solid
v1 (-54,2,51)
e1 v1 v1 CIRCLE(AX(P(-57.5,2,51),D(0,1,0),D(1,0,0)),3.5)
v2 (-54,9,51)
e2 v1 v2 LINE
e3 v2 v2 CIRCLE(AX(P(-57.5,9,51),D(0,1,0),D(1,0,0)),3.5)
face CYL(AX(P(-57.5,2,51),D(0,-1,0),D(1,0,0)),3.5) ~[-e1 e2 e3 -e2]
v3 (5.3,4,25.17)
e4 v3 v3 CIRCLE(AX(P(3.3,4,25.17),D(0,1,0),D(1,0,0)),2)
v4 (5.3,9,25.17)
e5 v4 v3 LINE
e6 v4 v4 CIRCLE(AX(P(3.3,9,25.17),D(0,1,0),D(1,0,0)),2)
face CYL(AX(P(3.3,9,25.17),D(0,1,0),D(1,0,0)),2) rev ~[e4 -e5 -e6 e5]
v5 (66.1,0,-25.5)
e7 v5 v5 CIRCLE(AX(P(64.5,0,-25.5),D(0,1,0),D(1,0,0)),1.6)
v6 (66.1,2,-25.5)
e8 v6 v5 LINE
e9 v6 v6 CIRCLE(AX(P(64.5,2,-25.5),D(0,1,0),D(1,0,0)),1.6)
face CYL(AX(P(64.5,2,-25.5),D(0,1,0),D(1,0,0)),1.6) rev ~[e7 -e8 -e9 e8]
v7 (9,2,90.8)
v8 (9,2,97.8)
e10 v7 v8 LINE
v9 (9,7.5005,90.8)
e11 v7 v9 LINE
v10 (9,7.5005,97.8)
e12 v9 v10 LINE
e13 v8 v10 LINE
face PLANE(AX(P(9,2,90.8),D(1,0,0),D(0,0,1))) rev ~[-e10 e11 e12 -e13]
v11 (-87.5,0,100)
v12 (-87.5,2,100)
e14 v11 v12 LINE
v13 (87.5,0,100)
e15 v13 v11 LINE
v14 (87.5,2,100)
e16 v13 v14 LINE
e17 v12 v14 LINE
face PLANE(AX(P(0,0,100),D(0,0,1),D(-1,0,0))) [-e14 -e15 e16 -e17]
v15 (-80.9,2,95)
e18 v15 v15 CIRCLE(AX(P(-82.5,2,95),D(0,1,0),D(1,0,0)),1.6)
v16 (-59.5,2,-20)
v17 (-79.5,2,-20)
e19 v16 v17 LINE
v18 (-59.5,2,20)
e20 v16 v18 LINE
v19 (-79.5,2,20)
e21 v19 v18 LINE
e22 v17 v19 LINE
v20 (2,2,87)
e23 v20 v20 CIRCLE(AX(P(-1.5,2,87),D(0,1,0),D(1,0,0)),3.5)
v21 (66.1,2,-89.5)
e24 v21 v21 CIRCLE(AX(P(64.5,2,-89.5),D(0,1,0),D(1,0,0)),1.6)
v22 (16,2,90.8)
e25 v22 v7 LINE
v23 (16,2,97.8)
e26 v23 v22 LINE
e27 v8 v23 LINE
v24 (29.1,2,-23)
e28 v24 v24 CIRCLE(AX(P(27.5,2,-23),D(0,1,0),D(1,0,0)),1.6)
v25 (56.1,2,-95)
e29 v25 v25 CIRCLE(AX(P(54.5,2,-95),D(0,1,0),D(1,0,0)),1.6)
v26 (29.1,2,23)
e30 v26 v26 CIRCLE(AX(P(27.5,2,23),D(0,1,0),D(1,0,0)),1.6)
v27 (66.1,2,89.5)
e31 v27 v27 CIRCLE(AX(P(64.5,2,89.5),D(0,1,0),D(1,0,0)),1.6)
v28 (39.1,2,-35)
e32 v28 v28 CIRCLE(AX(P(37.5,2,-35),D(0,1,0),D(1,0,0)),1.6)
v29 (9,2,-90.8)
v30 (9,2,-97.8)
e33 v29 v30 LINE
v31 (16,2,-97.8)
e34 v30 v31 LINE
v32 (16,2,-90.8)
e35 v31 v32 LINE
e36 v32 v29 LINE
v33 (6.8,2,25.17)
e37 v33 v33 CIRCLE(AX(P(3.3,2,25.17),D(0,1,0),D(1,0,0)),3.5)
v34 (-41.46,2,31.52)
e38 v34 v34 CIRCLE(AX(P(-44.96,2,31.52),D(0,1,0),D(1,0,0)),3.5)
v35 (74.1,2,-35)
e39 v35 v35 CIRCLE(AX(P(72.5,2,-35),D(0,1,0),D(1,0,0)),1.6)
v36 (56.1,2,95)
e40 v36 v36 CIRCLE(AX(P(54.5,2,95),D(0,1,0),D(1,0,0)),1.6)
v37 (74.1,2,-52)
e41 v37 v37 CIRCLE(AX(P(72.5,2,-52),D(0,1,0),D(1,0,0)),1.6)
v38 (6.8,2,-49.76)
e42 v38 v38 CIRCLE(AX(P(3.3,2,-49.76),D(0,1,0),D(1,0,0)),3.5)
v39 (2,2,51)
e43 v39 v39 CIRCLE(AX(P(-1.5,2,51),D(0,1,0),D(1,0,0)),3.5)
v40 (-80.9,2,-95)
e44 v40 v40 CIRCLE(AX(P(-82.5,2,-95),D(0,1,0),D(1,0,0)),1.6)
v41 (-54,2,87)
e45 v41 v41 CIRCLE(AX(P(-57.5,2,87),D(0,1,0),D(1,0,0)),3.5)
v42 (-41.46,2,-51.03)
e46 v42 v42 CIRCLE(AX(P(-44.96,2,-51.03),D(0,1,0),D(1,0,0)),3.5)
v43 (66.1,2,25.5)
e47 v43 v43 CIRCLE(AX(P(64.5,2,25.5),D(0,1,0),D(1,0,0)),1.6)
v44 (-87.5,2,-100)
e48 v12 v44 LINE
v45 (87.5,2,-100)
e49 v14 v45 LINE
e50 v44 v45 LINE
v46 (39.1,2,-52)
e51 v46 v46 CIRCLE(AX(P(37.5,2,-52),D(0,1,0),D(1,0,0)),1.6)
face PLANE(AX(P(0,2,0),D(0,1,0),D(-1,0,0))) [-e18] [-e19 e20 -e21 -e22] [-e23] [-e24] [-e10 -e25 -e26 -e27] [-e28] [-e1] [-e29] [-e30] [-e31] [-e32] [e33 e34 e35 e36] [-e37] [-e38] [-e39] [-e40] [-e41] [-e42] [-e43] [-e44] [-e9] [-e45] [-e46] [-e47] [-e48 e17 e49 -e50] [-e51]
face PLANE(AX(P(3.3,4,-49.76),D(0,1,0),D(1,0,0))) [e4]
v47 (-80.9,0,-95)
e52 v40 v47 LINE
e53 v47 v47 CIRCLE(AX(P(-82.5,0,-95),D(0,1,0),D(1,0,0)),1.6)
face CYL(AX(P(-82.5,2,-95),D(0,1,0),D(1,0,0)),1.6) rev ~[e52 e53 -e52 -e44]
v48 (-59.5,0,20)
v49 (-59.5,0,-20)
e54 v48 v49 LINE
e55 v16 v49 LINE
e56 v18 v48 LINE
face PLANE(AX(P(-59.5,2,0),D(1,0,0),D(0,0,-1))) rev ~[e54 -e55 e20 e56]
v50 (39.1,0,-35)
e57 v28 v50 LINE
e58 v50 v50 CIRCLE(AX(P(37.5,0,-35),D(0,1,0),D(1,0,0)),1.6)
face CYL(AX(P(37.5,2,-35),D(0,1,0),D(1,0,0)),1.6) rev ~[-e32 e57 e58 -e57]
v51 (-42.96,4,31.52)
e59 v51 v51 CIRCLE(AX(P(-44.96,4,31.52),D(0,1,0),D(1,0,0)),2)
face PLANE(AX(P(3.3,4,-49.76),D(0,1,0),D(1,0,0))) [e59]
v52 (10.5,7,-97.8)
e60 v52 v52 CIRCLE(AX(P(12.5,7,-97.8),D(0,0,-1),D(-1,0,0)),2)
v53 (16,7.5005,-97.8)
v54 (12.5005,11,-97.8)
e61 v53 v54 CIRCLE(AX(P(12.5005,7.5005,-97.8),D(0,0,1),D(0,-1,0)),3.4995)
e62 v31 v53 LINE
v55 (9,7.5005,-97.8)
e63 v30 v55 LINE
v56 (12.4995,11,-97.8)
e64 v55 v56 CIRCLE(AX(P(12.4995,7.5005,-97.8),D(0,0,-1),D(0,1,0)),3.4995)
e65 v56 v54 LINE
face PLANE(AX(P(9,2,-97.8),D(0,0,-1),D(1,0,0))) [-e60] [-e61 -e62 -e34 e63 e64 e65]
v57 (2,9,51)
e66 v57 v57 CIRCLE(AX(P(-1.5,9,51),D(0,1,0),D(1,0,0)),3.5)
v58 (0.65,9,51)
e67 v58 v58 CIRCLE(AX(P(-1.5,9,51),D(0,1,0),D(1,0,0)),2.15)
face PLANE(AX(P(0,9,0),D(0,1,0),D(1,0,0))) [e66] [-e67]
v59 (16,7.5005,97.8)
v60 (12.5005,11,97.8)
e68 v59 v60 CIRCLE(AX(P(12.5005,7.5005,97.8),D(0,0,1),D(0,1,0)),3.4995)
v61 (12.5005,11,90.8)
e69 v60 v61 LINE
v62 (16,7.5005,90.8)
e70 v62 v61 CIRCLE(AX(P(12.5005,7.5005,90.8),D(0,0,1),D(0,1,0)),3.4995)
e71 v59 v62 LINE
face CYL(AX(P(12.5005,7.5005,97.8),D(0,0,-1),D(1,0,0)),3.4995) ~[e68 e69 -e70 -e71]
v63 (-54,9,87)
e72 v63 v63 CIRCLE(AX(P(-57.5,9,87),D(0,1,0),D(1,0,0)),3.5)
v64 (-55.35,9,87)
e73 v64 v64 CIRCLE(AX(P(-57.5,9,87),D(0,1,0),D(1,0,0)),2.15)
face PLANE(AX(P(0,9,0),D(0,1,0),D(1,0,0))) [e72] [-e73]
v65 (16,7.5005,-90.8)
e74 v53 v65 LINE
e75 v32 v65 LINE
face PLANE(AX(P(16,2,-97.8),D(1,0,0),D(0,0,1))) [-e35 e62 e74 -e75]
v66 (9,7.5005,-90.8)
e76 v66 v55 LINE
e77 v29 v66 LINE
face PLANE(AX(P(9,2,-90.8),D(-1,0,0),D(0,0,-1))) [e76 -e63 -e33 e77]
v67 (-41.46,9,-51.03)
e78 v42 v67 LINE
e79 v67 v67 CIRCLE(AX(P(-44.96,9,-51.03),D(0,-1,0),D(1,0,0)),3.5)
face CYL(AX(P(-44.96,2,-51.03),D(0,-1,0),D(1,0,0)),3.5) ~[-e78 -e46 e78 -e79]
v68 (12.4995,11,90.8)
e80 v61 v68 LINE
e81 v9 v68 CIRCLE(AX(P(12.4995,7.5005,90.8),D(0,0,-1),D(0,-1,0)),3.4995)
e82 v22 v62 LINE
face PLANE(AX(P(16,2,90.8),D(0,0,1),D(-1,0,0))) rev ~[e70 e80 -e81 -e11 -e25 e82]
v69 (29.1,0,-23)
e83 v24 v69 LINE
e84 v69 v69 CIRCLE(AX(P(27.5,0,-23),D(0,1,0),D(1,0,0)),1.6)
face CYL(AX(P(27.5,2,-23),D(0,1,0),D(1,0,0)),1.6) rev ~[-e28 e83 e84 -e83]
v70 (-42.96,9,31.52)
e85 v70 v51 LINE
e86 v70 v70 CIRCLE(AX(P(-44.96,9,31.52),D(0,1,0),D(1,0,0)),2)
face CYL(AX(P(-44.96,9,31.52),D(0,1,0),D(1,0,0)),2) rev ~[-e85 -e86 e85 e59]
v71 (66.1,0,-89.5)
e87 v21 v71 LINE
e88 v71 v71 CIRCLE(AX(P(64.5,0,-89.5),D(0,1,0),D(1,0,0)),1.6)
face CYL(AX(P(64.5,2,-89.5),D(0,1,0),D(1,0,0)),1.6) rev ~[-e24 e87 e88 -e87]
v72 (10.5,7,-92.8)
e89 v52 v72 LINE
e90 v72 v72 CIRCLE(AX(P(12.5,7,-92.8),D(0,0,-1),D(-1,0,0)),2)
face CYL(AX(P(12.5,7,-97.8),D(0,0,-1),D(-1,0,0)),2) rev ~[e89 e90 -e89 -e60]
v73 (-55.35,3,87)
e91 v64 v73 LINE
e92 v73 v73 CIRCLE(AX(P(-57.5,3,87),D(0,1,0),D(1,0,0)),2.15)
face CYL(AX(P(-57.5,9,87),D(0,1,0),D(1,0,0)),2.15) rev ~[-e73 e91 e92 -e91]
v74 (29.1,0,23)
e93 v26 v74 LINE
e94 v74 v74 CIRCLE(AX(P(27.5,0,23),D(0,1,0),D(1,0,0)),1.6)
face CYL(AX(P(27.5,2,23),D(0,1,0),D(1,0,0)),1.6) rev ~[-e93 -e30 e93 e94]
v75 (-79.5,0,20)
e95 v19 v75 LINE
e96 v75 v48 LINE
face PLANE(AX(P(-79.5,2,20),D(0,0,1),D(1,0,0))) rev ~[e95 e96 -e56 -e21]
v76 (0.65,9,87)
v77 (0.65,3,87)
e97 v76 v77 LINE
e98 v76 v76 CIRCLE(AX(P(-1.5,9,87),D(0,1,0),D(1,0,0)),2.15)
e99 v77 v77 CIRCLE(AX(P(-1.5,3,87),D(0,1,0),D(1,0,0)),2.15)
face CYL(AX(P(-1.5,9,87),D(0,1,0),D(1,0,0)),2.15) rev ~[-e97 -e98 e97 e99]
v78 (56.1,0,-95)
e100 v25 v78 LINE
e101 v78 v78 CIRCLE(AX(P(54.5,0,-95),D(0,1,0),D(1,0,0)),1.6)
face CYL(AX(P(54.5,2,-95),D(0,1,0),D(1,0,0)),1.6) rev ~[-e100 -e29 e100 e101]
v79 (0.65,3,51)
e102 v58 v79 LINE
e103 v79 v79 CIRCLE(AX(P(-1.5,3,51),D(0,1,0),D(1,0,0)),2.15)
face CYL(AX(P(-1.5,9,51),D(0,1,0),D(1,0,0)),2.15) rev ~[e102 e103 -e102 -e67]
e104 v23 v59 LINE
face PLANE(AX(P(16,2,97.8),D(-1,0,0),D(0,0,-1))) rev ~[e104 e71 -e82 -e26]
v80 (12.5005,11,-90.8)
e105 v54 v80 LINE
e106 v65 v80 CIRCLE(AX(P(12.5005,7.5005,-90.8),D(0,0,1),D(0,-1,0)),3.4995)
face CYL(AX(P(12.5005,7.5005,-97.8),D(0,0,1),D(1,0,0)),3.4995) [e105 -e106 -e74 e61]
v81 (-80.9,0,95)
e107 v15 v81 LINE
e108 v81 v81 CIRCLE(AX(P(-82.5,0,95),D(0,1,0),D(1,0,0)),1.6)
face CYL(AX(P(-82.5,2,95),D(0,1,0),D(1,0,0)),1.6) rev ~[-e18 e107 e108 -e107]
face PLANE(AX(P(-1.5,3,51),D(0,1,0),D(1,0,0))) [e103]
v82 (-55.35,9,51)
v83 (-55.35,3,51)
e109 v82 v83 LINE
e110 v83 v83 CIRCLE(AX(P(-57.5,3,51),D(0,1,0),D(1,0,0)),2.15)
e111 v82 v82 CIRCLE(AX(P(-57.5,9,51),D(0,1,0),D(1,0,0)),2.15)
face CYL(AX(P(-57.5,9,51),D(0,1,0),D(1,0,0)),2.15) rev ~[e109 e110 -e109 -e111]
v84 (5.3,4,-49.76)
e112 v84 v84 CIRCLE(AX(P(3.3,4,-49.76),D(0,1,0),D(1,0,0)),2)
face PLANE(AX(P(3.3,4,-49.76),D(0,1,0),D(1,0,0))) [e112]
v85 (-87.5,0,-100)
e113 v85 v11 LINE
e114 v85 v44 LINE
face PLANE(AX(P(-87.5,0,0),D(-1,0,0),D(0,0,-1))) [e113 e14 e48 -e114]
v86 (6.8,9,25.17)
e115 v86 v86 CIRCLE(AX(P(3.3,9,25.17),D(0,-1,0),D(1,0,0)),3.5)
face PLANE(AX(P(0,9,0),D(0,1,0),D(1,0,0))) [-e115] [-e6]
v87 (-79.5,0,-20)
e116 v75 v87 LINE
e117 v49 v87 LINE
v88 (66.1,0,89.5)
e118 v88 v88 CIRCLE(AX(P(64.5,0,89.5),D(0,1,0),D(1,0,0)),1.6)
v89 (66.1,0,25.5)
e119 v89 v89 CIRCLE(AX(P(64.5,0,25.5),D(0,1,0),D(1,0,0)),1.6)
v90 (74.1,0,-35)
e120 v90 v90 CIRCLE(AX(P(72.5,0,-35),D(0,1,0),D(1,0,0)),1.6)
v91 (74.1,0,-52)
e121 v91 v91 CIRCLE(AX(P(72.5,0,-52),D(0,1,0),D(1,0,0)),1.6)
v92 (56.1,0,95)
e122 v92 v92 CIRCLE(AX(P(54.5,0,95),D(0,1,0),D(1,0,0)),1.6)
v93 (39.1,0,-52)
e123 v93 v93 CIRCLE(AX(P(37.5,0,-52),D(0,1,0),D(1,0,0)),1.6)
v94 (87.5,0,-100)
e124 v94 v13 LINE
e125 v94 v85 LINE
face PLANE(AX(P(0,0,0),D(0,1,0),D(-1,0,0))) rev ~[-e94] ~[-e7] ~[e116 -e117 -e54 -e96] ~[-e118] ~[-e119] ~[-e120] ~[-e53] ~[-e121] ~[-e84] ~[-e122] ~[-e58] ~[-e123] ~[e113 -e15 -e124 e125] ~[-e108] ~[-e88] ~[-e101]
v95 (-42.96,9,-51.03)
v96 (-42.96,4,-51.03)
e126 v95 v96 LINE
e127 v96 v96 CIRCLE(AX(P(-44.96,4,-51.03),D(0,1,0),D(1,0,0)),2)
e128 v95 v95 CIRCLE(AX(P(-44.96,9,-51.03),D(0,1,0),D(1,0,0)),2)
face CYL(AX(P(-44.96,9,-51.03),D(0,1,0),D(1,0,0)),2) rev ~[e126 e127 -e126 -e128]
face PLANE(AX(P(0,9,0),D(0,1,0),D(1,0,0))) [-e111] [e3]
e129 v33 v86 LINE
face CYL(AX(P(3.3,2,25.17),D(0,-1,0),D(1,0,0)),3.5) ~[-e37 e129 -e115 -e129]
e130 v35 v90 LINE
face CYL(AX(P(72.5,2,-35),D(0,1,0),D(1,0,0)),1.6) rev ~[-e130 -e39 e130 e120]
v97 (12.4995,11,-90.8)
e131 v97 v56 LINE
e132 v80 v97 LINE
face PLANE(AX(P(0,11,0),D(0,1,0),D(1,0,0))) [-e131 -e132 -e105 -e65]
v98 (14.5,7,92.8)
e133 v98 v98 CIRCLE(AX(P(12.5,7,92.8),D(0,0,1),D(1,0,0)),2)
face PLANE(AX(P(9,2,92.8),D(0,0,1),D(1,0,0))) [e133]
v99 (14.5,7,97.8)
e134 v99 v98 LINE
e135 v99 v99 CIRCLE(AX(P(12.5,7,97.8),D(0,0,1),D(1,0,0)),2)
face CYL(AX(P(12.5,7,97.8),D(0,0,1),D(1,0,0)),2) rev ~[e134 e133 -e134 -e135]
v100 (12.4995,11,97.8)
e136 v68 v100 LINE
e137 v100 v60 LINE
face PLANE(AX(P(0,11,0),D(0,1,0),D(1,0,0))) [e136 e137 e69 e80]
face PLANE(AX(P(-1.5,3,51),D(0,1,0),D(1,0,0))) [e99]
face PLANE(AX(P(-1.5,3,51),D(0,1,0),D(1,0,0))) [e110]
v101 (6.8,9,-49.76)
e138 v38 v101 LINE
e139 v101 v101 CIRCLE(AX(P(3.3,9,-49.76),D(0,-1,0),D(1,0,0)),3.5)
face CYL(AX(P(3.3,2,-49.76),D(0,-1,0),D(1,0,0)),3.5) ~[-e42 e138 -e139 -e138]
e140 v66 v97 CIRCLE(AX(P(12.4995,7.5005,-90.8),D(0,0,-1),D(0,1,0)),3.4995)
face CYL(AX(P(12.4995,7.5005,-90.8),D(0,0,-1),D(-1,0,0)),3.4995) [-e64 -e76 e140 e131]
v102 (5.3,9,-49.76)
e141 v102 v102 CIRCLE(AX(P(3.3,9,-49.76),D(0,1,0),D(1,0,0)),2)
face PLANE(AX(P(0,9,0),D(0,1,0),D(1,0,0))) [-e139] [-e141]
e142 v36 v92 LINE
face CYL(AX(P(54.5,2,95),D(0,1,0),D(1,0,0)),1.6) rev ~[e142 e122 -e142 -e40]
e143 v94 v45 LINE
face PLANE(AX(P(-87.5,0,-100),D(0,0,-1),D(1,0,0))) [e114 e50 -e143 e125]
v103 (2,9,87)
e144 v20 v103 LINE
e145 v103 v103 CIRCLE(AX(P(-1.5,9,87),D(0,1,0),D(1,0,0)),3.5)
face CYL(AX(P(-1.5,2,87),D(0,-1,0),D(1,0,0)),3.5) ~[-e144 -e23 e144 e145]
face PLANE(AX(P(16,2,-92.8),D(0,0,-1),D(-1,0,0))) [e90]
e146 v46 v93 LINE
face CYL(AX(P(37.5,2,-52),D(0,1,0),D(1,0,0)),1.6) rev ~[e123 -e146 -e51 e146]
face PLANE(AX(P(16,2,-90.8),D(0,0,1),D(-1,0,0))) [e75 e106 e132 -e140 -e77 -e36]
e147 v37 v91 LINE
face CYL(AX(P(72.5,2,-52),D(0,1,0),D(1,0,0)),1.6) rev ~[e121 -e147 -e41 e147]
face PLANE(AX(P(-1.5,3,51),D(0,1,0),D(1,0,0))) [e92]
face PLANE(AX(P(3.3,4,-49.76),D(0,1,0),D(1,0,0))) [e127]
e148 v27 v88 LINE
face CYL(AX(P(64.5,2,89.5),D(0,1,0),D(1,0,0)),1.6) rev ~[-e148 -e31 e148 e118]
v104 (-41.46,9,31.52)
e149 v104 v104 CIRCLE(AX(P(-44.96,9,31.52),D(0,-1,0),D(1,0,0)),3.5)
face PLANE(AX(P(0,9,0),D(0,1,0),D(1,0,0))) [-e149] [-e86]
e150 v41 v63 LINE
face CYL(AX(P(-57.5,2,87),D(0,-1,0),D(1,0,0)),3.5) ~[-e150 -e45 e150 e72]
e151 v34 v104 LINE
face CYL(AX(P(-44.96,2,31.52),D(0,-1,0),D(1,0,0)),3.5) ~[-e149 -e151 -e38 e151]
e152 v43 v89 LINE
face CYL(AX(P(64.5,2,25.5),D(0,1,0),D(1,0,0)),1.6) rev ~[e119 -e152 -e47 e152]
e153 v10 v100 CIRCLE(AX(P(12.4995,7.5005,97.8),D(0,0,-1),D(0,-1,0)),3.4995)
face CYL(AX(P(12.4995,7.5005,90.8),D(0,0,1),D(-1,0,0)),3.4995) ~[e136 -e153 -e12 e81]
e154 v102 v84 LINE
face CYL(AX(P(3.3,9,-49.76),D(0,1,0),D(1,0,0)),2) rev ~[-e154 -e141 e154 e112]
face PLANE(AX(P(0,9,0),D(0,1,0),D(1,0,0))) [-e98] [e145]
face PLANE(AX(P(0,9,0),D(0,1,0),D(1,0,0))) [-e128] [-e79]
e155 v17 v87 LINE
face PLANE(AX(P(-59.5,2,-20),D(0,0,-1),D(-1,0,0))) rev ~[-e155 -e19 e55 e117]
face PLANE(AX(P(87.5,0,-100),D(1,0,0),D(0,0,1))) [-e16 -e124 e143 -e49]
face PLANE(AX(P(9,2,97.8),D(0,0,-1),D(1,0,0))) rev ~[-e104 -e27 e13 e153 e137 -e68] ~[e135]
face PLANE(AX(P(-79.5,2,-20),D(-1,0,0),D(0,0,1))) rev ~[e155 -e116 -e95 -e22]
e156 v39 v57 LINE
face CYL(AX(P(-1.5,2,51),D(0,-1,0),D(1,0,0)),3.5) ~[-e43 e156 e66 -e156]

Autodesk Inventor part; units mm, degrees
ref_plane "YZ Plane" through (0, 0, 0) normal (1, 0, 0) x (0, 1, 0)
ref_plane "XZ Plane" through (0, 0, 0) normal (0, 1, 0) x (-1, 0, 0)
ref_plane "XY Plane" through (0, 0, 0) normal (0, 0, 1) x (1, 0, 0)
sketch "Skizze1" plane through (0, 0, 0) normal (0, 1, 0) x (-1, 0, 0)
  line L0 (87.5, -100) -> (-87.5, -100)
  line L1 (-87.5, -100) -> (-87.5, 100)
  line L2 (-87.5, 100) -> (87.5, 100)
  line L3 (87.5, 100) -> (87.5, -100)
  line L4 (0, -140) -> (0, 140) projected
  line L5 (122.5, 0) -> (-122.5, 0) projected
  point P0 (0, 0)
  dimension "d0" = 175
  dimension "d1" = 200
extrude "Extrusion1" add sketch "Skizze1" along normal blind 2
sketch "Skizze2" plane through (0, 2, 0) normal (0, 1, 0) x (1, 0, 0)
  circle A0 centre (54.5, 95) radius 1.6
  circle A1 centre (-82.5, 95) radius 1.6
  line L0 (0, 140) -> (0, -140) projected
  line L1 (122.5, 0) -> (-122.5, 0) projected
  line L2 (87.5, 100) -> (-87.5, 100) projected
  circle A2 centre (54.5, -95) radius 1.6
  circle A3 centre (-82.5, -95) radius 1.6
  line L3 (-87.5, 100) -> (-87.5, -100) projected
  line L4 (87.5, -100) -> (87.5, 100) projected
  point P0 (0, 0)
  dimension "d4" = 3.2
  dimension "d5" = 3.2
  dimension "d7" = 5
  dimension "d9" = 5
  dimension "d55" = 5
  dimension "d56" = 33
extrude "Extrusion2" cut sketch "Skizze2" against normal up to surface (2 mm away) contours A0 | A1 | A2 | A3
sketch "Skizze3" plane through (0, 2, 0) normal (0, 1, 0) x (1, 0, 0)
  line L0 (0, 140) -> (0, -140) projected
  line L1 (122.5, 0) -> (-122.5, 0) projected
  line L2 (-87.5, -100) -> (87.5, -100) projected
  line L3 (-87.5, 100) -> (-87.5, -100) projected
  circle A0 centre (64.5, -89.5) radius 1.6
  line L4 (87.5, -100) -> (87.5, 100) projected
  circle A1 centre (64.5, -25.5) radius 1.6
  circle A2 centre (64.5, 25.5) radius 1.6
  line L5 (87.5, 100) -> (-87.5, 100) projected
  circle A3 centre (64.5, 89.5) radius 1.6
  circle A4 centre (27.5, -23) radius 1.6
  circle A5 centre (27.5, 23) radius 1.6
  point P0 (0, 0)
  dimension "d35" = 3.2
  dimension "d36" = 10.5
  dimension "d37" = 23
  dimension "d38" = 3.2
  dimension "d39" = 74.5
  dimension "d40" = 23
  dimension "d41" = 3.2
  dimension "d42" = 23
  dimension "d43" = 74.5
  dimension "d44" = 3.2
  dimension "d45" = 23
  dimension "d46" = 10.5
  dimension "d47" = 3.2
  dimension "d48" = 60
  dimension "d49" = 77
  dimension "d50" = 3.2
  dimension "d51" = 60
  dimension "d52" = 77
extrude "Extrusion3" cut sketch "Skizze3" against normal up to surface (2 mm away) contours A0 | A1 | A2 | A3 | A4 | A5
sketch "Skizze4" plane through (0, 2, 0) normal (0, 1, 0) x (1, 0, 0)
  line L0 (-47.5, -36.6) -> (5.84, -36.6)
  line L1 (5.84, -36.6) -> (5.84, 65)
  line L2 (5.84, 65) -> (-47.5, 65)
  line L3 (-47.5, 65) -> (-47.5, -36.6)
  line L4 (122.5, 0) -> (-122.5, 0) projected
  line L5 (-87.5, 100) -> (-87.5, -100) projected
  circle A0 centre (3.3, 49.76) radius 3.5
  circle A1 centre (3.3, -25.17) radius 3.5
  circle A2 centre (-44.96, -31.52) radius 3.5
  circle A3 centre (-44.96, 51.03) radius 3.5
  line L6 (87.5, 100) -> (-87.5, 100) projected
  point P0 (0, 0)
  point P1 (-15.83, 0)
  dimension "d57" = 53.34
  dimension "d58" = 101.6
  dimension "d59" = 40
  dimension "d60" = 7
  dimension "d61" = 86.36
  dimension "d62" = 50.8
  dimension "d63" = 7
  dimension "d64" = 90.17
  dimension "d65" = 50.8
  dimension "d66" = 7
  dimension "d67" = 96.52
  dimension "d68" = 50.8
  dimension "d69" = 7
  dimension "d70" = 87.63
  dimension "d71" = 50.8
  dimension "d140" = 35
extrude "Extrusion4" add sketch "Skizze4" along normal blind 7 contours A2 L3 | L3 A2 | A1 L1 | L1 A1 | A3 L3 | L3 A3 | A0 L1 | L1 A0
sketch "Skizze5" plane through (3.3, 9, -49.76) normal (0, 1, 0) x (1, 0, 0)
  circle A0 centre (0, 0) radius 3.5 projected
  circle A1 centre (-48.26, 1.27) radius 3.5 projected
  circle A2 centre (-48.26, -81.28) radius 3.5 projected
  circle A3 centre (0, -74.93) radius 3.5 projected
  circle A4 centre (0, 0) radius 2
  circle A5 centre (0, -74.93) radius 2
  circle A6 centre (-48.26, 1.27) radius 2
  circle A7 centre (-48.26, -81.28) radius 2
  point P0 (-3.3, -49.76)
  dimension "d74" = 4
  dimension "d75" = 4
  dimension "d76" = 4
  dimension "d77" = 4
extrude "Extrusion5" cut sketch "Skizze5" against normal blind 5 contours A4 | A5 | A6 | A7
sketch "Skizze6" plane through (0, 2, 0) normal (0, 1, 0) x (1, 0, 0)
  circle A0 centre (72.5, 35) radius 1.6
  circle A1 centre (72.5, 52) radius 1.6
  line L0 (87.5, -100) -> (87.5, 100) projected
  line L1 (-122.5, 0) -> (122.5, 0) projected
  circle A2 centre (37.5, 35) radius 1.6
  circle A3 centre (37.5, 52) radius 1.6
  point P0 (0, 0)
  dimension "d80" = 3.2
  dimension "d81" = 3.2
  dimension "d82" = 15
  dimension "d83" = 15
  dimension "d84" = 35
  dimension "d85" = 17
  dimension "d88" = 3.2
  dimension "d89" = 3.2
  dimension "d90" = 50
  dimension "d91" = 50
  dimension "d92" = 35
  dimension "d94" = 17
extrude "Extrusion6" cut sketch "Skizze6" against normal up to surface (2 mm away)
sketch "Skizze7" plane through (0, 2, 0) normal (0, 1, 0) x (1, 0, 0)
  line L0 (16, -90.8) -> (9, -90.8)
  line L1 (9, -90.8) -> (9, -97.8)
  line L2 (9, -97.8) -> (16, -97.8)
  line L3 (16, -97.8) -> (16, -90.8)
  line L4 (-87.5, 100) -> (-87.5, -100) projected
  line L5 (-87.5, -100) -> (87.5, -100) projected
  line L6 (122.5, 0) -> (-122.5, 0) projected
  line L7 (16, 90.8) -> (9, 90.8)
  line L8 (9, 90.8) -> (9, 97.8)
  line L9 (9, 97.8) -> (16, 97.8)
  line L10 (16, 97.8) -> (16, 90.8)
  point P0 (0, 0)
  dimension "d95" = 103.5
  dimension "d96" = 7
  dimension "d97" = 7
  dimension "d98" = 2.2
extrude "Extrusion7" add sketch "Skizze7" along normal blind 9
sketch "Skizze8" plane through (9, 2, 97.8) normal (0, 0, 1) x (1, 0, 0)
  circle A0 centre (3.5, 5) radius 2
  line L0 (7, 0) -> (0, 0) projected
  line L1 (7, 0) -> (7, 9) projected
  point P0 (-9, -2)
  dimension "d101" = 4
  dimension "d102" = 5
  dimension "d103" = 3.5
extrude "Extrusion8" cut sketch "Skizze8" against normal blind 5
sketch "Skizze9" plane through (16, 2, -97.8) normal (0, 0, -1) x (-1, 0, 0)
  circle A0 centre (3.5, 5) radius 2
  line L0 (7, 0) -> (7, 9) projected
  line L1 (7, 0) -> (0, 0) projected
  point P0 (16, -2)
  dimension "d107" = 4
  dimension "d108" = 3.5
  dimension "d109" = 5
extrude "Extrusion9" cut sketch "Skizze9" against normal blind 5
fillet "Rundung1" radius 3.5 4 edges at (16, 11, -94.3) (9, 11, -94.3) (9, 11, 94.3) (16, 11, 94.3)
sketch "Skizze10" plane through (0, 2, 0) normal (0, 1, 0) x (1, 0, 0)
  line L0 (-59.5, 20) -> (-79.5, 20)
  line L1 (-79.5, 20) -> (-79.5, -20)
  line L2 (-79.5, -20) -> (-59.5, -20)
  line L3 (-59.5, -20) -> (-59.5, 20)
  line L4 (122.5, 0) -> (-122.5, 0) projected
  line L5 (-87.5, 100) -> (-87.5, -100) projected
  point P0 (0, 0)
  dimension "d113" = 20
  dimension "d114" = 40
  dimension "d115" = 8
extrude "Extrusion10" cut sketch "Skizze10" against normal up to surface (2 mm away)
sketch "Skizze11" plane through (0, 2, 0) normal (0, 1, 0) x (1, 0, 0)
  circle A0 centre (-1.5, -51) radius 3.5
  circle A1 centre (-1.5, -87) radius 3.5
  circle A2 centre (-57.5, -51) radius 3.5
  circle A3 centre (-57.5, -87) radius 3.5
  line L0 (-87.5, 100) -> (-87.5, -100) projected
  line L1 (87.5, 100) -> (-87.5, 100) projected
  line L2 (-87.5, -100) -> (87.5, -100) projected
  point P0 (0, 0)
  dimension "d118" = 7
  dimension "d119" = 7
  dimension "d120" = 7
  dimension "d121" = 7
  dimension "d122" = 30
  dimension "d123" = 30
  dimension "d126" = 56
  dimension "d127" = 36
  dimension "d128" = 56
  dimension "d129" = 36
  dimension "d138" = 13
  dimension "d139" = 13
extrude "Extrusion11" add sketch "Skizze11" along normal blind 7
sketch "Skizze12" plane through (-1.5, 9, 51) normal (0, 1, 0) x (1, 0, 0)
  circle A0 centre (0, 0) radius 3.5 projected
  circle A1 centre (0, -36) radius 3.5 projected
  circle A2 centre (-56, -36) radius 3.5 projected
  circle A3 centre (-56, 0) radius 3.5 projected
  circle A4 centre (0, 0) radius 2.15
  circle A5 centre (0, -36) radius 2.15
  circle A6 centre (-56, 0) radius 2.15
  circle A7 centre (-56, -36) radius 2.15
  point P0 (1.5, 51)
  dimension "d132" = 4.3
  dimension "d133" = 4.3
  dimension "d134" = 4.3
  dimension "d135" = 4.3
extrude "Extrusion12" cut sketch "Skizze12" against normal blind 6 contours A4 | A5 | A6 | A7
equation "\"d10\" = d6"
equation "\"d53\" = d48"
equation "\"d6\" = 42"
properties part number "_3D-Druck"
